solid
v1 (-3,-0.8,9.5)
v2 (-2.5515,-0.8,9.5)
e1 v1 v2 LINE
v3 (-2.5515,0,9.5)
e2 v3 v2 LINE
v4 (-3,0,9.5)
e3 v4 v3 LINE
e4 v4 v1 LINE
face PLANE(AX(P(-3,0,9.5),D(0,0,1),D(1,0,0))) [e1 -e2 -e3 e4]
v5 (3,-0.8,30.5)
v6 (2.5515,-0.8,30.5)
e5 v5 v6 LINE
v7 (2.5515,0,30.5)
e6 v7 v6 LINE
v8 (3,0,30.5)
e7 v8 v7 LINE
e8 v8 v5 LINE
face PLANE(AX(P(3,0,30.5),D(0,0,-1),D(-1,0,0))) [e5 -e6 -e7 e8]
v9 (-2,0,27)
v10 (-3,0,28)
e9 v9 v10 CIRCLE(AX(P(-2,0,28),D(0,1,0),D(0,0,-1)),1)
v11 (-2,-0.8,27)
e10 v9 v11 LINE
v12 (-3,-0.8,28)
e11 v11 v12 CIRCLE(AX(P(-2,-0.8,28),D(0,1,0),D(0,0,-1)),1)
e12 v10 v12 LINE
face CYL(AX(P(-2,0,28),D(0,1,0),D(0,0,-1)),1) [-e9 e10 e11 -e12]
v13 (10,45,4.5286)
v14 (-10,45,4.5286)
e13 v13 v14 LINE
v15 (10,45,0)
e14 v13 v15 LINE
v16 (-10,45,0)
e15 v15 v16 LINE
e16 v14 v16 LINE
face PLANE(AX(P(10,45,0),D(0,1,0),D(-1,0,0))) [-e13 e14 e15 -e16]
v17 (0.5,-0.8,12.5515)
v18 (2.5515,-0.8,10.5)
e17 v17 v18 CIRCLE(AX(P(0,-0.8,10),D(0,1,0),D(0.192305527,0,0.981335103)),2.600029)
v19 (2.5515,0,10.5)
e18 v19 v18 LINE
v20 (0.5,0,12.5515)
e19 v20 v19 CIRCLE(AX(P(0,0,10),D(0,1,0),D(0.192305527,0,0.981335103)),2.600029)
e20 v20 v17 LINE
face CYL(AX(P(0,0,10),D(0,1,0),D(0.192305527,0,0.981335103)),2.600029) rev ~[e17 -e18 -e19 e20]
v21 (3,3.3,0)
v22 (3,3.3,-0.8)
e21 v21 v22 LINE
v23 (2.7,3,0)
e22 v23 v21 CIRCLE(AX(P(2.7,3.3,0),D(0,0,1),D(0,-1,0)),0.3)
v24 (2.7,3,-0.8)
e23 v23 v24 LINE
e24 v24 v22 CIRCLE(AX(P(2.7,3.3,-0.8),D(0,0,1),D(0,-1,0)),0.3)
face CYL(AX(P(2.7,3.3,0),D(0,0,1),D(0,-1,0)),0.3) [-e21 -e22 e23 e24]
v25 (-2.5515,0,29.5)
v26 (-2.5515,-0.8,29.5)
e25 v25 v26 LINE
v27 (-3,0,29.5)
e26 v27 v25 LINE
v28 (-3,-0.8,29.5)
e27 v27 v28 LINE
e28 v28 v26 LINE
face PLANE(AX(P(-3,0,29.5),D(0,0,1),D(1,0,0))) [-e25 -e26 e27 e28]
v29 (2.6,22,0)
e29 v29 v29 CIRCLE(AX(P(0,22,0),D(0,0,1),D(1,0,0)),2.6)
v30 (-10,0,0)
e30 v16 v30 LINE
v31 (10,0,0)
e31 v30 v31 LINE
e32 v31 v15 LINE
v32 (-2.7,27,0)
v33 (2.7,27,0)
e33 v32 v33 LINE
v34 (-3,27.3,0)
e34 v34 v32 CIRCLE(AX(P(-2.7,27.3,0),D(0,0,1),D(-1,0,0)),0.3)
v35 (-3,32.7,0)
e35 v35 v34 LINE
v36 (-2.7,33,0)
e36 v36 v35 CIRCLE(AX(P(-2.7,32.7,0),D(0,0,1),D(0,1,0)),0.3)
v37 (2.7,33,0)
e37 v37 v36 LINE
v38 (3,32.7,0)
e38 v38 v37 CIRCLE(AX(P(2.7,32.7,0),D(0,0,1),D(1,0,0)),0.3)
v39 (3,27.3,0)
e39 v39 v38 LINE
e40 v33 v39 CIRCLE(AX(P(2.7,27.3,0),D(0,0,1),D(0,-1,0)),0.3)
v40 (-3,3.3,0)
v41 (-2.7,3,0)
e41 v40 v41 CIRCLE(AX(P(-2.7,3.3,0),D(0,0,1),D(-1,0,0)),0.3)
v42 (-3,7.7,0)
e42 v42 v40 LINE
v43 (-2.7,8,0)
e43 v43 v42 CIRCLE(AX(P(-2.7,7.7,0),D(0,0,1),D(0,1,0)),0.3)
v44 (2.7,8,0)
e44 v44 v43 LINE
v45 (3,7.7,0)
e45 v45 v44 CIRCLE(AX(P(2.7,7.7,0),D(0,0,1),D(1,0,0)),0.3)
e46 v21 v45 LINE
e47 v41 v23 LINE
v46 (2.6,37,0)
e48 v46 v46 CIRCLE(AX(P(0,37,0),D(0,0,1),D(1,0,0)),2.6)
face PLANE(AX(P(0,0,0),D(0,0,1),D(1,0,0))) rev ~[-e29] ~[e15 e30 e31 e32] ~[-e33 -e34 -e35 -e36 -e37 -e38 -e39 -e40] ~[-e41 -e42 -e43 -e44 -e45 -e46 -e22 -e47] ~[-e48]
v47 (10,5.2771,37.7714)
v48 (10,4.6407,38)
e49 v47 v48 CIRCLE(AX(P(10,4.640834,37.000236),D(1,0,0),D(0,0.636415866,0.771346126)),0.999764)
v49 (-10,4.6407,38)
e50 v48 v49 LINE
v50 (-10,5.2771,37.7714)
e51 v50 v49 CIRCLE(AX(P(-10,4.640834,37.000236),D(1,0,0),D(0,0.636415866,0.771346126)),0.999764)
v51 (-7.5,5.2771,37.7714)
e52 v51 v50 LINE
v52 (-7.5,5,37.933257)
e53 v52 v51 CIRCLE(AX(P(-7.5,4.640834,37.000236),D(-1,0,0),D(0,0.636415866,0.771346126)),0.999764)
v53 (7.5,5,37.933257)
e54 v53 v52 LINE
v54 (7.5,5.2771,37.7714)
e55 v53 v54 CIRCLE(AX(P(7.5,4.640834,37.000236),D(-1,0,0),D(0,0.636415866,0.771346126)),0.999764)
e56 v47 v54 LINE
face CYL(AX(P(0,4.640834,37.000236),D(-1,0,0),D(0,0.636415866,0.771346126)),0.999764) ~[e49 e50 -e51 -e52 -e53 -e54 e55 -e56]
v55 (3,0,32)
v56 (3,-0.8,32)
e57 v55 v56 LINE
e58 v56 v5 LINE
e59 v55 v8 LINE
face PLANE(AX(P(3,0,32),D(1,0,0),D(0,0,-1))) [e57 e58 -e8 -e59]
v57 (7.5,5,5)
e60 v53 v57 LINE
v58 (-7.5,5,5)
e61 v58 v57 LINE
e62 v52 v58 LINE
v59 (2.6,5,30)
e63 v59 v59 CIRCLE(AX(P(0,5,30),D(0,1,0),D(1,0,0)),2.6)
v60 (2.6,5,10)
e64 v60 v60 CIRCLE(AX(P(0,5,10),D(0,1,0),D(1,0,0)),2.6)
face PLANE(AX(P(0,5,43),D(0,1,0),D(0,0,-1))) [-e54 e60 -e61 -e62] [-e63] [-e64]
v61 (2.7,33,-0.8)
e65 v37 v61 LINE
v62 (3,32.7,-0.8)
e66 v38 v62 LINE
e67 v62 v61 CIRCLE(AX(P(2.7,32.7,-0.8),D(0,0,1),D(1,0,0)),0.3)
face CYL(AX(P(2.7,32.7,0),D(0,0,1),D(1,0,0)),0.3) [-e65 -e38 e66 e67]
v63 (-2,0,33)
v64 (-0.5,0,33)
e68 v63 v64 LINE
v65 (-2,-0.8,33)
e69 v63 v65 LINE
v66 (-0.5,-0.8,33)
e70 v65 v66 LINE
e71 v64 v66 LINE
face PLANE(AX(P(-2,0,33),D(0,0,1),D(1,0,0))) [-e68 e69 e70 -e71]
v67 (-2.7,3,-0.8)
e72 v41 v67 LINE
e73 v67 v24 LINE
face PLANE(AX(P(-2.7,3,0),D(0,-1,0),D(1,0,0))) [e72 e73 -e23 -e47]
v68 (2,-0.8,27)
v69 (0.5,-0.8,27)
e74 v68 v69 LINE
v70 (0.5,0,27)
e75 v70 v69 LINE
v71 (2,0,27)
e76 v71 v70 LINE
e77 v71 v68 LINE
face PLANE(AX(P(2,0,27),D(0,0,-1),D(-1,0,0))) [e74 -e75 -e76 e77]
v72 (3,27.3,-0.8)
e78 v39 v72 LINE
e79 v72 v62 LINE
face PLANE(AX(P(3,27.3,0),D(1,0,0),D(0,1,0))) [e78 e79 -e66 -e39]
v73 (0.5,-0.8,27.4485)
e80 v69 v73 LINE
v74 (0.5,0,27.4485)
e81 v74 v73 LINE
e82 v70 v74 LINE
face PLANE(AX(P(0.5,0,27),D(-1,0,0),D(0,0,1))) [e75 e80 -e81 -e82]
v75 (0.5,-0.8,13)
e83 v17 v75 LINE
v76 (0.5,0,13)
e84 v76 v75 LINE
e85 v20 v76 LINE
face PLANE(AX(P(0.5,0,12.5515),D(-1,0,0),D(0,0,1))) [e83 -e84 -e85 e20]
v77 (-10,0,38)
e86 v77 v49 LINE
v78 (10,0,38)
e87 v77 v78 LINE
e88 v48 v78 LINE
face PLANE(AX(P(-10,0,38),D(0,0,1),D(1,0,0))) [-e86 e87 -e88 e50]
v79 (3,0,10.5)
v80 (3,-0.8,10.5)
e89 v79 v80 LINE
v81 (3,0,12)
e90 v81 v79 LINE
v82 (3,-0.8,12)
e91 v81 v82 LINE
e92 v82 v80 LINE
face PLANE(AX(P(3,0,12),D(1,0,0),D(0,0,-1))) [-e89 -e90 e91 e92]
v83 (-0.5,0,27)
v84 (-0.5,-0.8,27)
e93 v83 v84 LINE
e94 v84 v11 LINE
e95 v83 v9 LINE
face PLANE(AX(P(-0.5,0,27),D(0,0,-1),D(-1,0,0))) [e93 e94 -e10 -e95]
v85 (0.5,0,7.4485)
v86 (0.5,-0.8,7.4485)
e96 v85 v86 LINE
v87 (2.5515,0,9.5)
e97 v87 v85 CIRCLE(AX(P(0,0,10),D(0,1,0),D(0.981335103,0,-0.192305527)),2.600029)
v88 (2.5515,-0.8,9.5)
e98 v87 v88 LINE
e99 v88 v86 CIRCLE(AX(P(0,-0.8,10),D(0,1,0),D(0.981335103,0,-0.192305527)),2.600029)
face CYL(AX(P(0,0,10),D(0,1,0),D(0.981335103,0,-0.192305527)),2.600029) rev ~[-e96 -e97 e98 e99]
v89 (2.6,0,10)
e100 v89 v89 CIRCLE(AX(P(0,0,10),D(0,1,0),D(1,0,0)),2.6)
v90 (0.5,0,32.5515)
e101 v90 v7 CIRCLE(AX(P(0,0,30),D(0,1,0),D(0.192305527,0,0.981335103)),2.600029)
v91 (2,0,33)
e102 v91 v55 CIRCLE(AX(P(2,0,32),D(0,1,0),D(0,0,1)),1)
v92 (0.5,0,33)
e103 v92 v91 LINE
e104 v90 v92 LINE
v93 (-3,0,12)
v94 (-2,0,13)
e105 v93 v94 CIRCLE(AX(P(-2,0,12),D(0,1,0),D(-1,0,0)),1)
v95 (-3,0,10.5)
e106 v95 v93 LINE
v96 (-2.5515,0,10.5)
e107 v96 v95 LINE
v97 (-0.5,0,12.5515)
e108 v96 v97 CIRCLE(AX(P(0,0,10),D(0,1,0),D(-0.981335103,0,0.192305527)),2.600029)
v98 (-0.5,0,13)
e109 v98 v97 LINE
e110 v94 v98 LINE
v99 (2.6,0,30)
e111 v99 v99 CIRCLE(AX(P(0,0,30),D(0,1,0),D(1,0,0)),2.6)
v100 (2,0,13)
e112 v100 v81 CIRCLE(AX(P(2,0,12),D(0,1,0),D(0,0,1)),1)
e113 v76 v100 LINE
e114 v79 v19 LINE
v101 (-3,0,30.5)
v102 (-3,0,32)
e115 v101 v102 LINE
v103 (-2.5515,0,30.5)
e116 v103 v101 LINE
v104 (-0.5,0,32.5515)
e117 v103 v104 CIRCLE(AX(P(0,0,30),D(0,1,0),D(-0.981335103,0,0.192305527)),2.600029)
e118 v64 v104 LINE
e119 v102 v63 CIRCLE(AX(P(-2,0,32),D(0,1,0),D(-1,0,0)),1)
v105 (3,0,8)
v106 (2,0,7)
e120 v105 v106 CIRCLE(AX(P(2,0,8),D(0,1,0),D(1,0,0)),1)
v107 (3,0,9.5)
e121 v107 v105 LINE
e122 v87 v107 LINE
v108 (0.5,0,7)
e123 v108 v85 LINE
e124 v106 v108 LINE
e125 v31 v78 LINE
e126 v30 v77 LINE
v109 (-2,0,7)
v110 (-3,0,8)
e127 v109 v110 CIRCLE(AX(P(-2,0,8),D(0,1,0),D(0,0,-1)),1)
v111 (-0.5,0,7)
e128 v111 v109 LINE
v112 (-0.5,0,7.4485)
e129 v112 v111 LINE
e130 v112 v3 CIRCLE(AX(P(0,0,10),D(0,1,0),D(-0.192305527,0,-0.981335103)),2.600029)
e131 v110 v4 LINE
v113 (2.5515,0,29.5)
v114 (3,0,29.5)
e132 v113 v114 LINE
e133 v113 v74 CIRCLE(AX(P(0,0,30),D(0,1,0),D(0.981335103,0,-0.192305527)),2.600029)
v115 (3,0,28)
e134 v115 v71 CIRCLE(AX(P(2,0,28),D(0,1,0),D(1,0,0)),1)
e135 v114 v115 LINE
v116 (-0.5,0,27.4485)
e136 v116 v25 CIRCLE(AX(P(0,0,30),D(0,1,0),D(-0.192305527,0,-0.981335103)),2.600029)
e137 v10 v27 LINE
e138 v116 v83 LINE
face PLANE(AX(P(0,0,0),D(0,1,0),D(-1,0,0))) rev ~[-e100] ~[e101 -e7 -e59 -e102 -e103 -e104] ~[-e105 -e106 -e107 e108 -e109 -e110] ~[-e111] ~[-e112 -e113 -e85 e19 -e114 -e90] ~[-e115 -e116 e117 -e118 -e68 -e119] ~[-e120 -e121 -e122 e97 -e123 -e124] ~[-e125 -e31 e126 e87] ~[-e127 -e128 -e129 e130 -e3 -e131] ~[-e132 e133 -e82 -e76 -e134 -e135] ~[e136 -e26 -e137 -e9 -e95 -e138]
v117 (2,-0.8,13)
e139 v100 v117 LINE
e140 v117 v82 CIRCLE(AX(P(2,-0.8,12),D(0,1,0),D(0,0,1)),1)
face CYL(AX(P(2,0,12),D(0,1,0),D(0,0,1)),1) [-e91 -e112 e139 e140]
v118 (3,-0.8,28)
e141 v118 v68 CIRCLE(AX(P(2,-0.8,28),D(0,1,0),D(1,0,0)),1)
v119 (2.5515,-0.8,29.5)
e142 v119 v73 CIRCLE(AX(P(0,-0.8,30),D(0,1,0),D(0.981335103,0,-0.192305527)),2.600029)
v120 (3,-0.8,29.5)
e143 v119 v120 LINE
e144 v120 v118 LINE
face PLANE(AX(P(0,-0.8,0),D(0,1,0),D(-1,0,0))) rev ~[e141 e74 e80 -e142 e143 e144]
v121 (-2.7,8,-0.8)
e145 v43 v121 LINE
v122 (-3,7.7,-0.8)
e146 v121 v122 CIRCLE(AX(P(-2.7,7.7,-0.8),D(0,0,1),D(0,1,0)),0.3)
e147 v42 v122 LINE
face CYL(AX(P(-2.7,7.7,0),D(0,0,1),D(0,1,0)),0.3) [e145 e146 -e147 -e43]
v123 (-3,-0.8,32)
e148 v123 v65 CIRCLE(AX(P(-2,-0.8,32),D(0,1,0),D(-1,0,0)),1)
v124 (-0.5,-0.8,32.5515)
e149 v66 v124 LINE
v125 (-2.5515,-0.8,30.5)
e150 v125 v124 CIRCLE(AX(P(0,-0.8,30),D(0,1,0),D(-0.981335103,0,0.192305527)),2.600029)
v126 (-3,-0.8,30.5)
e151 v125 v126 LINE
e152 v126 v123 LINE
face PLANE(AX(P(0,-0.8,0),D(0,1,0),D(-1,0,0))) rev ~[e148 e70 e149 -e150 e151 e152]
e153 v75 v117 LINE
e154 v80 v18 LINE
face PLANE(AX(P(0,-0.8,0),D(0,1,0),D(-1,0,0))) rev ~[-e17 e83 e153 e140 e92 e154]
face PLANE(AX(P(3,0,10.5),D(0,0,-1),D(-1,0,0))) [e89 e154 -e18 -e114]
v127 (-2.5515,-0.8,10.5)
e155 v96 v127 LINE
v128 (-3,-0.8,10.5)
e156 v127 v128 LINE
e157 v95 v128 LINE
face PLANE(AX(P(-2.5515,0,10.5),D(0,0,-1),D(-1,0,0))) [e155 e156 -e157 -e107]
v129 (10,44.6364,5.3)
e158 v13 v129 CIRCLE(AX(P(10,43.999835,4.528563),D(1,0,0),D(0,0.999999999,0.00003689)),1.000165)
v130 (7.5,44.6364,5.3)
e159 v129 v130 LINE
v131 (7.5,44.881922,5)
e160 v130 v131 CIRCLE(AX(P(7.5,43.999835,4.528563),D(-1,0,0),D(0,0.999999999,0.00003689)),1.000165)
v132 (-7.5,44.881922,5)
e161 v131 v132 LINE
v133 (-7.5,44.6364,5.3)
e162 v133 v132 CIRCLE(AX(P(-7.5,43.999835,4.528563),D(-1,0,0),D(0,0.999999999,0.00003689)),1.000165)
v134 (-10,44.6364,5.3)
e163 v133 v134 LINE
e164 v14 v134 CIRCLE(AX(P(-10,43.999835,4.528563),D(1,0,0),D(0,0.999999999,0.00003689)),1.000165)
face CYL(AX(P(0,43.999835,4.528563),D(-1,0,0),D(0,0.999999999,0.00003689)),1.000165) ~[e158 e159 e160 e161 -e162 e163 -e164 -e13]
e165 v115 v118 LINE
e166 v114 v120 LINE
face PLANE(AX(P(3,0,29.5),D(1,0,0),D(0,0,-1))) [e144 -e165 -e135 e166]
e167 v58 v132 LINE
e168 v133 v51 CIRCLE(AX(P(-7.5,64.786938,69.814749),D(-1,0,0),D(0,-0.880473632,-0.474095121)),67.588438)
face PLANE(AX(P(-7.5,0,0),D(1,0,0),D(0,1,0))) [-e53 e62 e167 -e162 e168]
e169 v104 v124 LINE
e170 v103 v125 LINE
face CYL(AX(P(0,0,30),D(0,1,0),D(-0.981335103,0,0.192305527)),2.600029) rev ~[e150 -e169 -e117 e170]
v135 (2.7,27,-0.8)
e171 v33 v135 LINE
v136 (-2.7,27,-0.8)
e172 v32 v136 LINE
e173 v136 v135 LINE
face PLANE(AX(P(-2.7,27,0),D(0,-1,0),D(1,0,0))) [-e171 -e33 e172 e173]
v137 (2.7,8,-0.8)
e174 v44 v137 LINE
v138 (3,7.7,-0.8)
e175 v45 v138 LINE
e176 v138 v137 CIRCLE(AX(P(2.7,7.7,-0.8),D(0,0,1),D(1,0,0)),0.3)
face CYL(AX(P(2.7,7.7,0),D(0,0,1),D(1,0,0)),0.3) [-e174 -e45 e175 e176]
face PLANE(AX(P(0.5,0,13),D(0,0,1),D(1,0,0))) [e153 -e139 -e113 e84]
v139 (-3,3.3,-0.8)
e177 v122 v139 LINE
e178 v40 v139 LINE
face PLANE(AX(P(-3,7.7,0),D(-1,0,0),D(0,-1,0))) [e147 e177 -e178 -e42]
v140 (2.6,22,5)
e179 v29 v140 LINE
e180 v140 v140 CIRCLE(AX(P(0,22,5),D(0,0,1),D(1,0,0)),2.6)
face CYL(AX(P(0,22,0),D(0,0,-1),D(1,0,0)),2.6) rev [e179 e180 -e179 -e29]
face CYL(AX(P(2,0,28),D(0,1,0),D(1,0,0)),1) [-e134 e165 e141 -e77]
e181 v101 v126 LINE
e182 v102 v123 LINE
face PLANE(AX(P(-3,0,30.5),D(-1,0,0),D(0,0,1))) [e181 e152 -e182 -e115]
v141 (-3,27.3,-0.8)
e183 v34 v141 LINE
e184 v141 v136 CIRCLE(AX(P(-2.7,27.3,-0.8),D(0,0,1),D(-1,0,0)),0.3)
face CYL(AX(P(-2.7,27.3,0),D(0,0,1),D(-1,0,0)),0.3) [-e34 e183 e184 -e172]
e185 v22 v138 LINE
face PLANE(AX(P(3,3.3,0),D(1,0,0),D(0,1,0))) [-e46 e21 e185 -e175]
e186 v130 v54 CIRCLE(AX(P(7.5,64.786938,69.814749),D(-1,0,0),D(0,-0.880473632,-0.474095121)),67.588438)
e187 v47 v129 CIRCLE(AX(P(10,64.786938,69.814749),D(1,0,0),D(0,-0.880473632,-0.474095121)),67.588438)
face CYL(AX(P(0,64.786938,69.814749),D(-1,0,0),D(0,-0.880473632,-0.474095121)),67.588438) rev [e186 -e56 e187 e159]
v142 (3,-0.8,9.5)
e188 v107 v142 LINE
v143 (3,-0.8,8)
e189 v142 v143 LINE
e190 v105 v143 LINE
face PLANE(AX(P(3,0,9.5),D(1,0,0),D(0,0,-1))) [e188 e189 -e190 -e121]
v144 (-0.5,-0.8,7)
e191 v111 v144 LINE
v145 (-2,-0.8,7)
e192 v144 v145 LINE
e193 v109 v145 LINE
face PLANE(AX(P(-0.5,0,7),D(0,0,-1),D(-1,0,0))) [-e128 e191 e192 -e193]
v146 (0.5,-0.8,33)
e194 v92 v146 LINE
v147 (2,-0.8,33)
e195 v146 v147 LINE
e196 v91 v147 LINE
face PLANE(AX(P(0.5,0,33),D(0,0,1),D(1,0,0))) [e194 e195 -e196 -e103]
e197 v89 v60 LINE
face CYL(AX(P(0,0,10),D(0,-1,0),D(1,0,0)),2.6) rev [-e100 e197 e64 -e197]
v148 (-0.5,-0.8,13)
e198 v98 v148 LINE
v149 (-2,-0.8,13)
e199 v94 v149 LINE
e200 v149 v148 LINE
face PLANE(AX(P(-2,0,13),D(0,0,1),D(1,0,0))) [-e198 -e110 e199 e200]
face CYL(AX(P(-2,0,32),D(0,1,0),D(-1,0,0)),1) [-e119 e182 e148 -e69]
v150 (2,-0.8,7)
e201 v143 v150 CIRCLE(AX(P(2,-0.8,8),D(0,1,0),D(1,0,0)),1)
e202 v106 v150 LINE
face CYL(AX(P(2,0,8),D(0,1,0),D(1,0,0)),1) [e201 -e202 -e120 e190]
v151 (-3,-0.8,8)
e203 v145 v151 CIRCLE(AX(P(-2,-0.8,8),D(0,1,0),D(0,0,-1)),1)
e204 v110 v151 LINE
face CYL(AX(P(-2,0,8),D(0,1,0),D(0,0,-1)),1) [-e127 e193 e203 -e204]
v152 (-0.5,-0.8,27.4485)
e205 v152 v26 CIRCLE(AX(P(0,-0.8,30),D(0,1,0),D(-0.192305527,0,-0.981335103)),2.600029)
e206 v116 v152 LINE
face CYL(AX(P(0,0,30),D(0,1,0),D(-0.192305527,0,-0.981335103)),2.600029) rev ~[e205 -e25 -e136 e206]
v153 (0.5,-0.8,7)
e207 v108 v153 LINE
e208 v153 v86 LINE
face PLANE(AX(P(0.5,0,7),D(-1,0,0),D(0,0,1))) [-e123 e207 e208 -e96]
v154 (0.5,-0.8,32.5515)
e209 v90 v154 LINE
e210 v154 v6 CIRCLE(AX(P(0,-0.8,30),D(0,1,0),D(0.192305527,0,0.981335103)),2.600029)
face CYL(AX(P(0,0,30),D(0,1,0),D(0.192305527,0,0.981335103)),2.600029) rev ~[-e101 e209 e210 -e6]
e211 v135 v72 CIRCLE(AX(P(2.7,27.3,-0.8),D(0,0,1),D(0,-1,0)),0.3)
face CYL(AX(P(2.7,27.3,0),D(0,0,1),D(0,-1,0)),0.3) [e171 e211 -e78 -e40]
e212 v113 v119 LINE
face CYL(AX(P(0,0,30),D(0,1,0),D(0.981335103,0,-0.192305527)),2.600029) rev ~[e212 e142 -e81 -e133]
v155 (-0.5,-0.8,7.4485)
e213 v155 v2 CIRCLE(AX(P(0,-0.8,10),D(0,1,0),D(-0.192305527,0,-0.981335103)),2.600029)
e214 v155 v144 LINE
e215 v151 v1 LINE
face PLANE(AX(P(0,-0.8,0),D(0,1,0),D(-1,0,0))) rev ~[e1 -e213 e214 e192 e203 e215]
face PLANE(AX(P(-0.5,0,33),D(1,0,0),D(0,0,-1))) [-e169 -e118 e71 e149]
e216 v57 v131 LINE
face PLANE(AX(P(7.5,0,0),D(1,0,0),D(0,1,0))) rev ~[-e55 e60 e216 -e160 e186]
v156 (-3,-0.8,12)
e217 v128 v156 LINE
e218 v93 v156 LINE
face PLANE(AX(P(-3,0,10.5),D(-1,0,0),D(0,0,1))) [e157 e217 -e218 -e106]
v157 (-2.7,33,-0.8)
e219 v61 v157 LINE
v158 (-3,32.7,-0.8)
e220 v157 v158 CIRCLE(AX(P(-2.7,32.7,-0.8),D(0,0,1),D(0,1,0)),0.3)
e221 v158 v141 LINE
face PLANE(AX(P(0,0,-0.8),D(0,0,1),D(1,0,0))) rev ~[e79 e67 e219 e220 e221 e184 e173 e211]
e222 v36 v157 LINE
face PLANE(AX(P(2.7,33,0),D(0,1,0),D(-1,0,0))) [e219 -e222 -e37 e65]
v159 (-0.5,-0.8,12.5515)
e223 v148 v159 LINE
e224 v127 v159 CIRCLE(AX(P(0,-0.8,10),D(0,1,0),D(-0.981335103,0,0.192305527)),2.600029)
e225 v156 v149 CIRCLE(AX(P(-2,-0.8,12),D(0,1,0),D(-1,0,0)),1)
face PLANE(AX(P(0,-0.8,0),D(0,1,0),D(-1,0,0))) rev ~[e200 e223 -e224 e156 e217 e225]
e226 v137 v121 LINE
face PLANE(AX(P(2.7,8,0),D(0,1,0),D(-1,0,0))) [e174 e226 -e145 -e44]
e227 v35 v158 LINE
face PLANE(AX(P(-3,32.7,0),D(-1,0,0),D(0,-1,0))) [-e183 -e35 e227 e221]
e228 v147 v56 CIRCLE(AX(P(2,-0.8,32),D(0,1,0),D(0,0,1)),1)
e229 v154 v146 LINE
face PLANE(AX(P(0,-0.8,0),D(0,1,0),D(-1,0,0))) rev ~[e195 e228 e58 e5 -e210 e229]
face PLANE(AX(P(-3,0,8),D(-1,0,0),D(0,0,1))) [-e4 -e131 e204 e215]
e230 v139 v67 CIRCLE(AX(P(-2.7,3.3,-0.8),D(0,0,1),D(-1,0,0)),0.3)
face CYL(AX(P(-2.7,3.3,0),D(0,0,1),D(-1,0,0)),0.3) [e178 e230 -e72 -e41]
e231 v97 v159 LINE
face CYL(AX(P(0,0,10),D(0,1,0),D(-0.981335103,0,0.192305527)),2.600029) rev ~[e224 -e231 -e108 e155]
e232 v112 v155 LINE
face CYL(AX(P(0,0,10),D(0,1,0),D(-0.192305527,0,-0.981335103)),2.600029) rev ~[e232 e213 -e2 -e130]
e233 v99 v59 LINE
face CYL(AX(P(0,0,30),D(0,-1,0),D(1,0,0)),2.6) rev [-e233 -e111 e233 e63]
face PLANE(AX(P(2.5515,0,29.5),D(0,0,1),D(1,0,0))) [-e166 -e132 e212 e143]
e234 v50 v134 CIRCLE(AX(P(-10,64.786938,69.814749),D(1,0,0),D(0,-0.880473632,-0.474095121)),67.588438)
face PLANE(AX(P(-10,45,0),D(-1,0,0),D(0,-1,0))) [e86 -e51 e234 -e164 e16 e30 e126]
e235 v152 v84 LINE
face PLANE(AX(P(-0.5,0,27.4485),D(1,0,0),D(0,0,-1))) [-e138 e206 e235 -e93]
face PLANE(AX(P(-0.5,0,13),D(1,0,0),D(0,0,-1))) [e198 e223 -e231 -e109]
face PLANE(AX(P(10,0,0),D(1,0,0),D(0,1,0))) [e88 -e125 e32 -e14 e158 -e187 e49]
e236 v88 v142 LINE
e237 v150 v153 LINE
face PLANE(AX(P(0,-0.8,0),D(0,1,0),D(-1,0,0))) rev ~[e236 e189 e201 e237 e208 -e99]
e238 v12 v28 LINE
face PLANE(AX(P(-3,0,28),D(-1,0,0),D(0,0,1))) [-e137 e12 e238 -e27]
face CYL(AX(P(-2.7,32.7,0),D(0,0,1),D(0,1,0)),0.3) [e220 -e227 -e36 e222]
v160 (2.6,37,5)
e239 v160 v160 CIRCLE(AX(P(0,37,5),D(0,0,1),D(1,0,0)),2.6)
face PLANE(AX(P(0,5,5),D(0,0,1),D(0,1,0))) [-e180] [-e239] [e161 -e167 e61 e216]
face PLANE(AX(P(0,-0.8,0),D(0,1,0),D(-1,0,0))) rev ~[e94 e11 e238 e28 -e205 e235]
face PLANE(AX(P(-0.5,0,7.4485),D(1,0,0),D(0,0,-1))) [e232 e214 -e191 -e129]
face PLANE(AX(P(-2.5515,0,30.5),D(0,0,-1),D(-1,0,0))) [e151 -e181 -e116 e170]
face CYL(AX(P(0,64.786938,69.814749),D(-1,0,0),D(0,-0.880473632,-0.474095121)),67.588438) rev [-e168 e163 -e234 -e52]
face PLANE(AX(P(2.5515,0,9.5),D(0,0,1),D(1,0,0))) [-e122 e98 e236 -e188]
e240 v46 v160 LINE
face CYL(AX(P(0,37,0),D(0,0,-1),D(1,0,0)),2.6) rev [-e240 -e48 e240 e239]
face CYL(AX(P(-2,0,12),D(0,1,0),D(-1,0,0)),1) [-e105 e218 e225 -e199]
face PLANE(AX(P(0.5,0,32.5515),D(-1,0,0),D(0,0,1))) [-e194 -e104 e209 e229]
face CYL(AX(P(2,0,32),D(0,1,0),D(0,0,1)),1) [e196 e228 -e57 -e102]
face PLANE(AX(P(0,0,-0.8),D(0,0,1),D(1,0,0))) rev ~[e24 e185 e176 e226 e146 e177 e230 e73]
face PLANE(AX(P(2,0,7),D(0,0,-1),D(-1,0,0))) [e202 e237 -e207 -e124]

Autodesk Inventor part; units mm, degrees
sketch "Sketch_15" plane through (0, 0, 0) normal (1, 0, 0) x (0, 1, 0)
  line L0 (0, 38) -> (0, 0)
  line L1 (0, 0) -> (45, 0)
  line L2 (45, 0) -> (45, 4.5286)
  arc A0 (45, 4.5286) -> (44.6364, 5.3) centre (44, 4.5286) ccw
  line L3 (44.6364, 5.3) -> (5.2771, 37.7714)
  arc A1 (5.2771, 37.7714) -> (4.6407, 38) centre (4.6407, 37) ccw
  line L4 (4.6407, 38) -> (0, 38)
extrude "Extrusion1" add sketch "Sketch_15" along normal mid plane 20
sketch "Sketch_16" plane through (0, 0, 0) normal (1, 0, 0) x (0, 1, 0)
  line L0 (5, 43) -> (5, 5)
  line L1 (5, 5) -> (50, 5)
  line L2 (50, 5) -> (50, 43)
  line L3 (50, 43) -> (5, 43)
extrude "Extrusion2" cut sketch "Sketch_16" along normal mid plane 15
sketch "Sketch_28" plane through (0, 0, 0) normal (1, 0, 0) x (0, 1, 0)
  arc A0 (5.2771, 37.7714) -> (44.6364, 5.3) centre (64.787, 69.8148) ccw
  line L0 (44.6364, 5.3) -> (5.2771, 37.7714)
extrude "Extrusion3" cut sketch "Sketch_28" along normal mid plane 20
sketch "Sketch_6" plane through (0, 0, 0) normal (0, 1, 0) x (1, 0, 0)
  circle A0 centre (0, -10) radius 2.6
extrude "Extrusion4" cut sketch "Sketch_6" along normal blind 5
pattern_linear "Rectangular Pattern1" count 2 spacing 20 along (0, 0, 1) of "Extrusion4"
sketch "Sketch_8" plane through (0, 0, 0) normal (0, 0, 1) x (1, 0, 0)
  circle A0 centre (0, 22) radius 2.6
extrude "Extrusion5" cut sketch "Sketch_8" along normal blind 5
pattern_linear "Rectangular Pattern2" count 2 spacing 15 along (0, 1, 0) of "Extrusion5"
sketch "Sketch_1" plane through (0, 0, 0) normal (0, 1, 0) x (-1, 0, 0)
  line L0 (10, 0) -> (10, 38)
  line L1 (10, 38) -> (-10, 38)
  line L2 (-10, 38) -> (-10, 0)
  line L3 (-10, 0) -> (10, 0)
extrude "Extrusion6" add sketch "Sketch_1" against normal blind 0.8
sketch "Sketch_10" plane through (0, 0, 0) normal (0, 0, 1) x (1, 0, 0)
  line L0 (-10, 0) -> (10, 0)
  line L1 (10, 0) -> (10, 45)
  line L2 (10, 45) -> (-10, 45)
  line L3 (-10, 45) -> (-10, 0)
extrude "Extrusion7" add sketch "Sketch_10" against normal blind 0.8
sketch "Sketch_13" plane through (0, 0, 0) normal (0, 1, 0) x (-1, 0, 0)
  line L0 (10, 0) -> (10, 38)
  line L1 (10, 38) -> (-10, 38)
  line L2 (-10, 38) -> (-10, 0)
  line L3 (-10, 0) -> (10, 0)
  line L4 (-0.5, 33) -> (-2, 33)
  arc A0 (-2, 33) -> (-3, 32) centre (-2, 32) ccw
  line L5 (-3, 32) -> (-3, 30.5)
  line L6 (-3, 30.5) -> (-2.5515, 30.5)
  arc A1 (-0.5, 32.5515) -> (-2.5515, 30.5) centre (0, 30) ccw
  line L7 (-0.5, 32.5515) -> (-0.5, 33)
  line L8 (-0.5, 27) -> (-0.5, 27.4485)
  arc A2 (-2.5515, 29.5) -> (-0.5, 27.4485) centre (0, 30) ccw
  line L9 (-2.5515, 29.5) -> (-3, 29.5)
  line L10 (-3, 29.5) -> (-3, 28)
  arc A3 (-3, 28) -> (-2, 27) centre (-2, 28) ccw
  line L11 (-2, 27) -> (-0.5, 27)
  line L12 (-0.5, 13) -> (-2, 13)
  arc A4 (-2, 13) -> (-3, 12) centre (-2, 12) ccw
  line L13 (-3, 12) -> (-3, 10.5)
  line L14 (-3, 10.5) -> (-2.5515, 10.5)
  arc A5 (-0.5, 12.5515) -> (-2.5515, 10.5) centre (0, 10) ccw
  line L15 (-0.5, 12.5515) -> (-0.5, 13)
  line L16 (-0.5, 7) -> (-0.5, 7.4485)
  arc A6 (-2.5515, 9.5) -> (-0.5, 7.4485) centre (0, 10) ccw
  line L17 (-2.5515, 9.5) -> (-3, 9.5)
  line L18 (-3, 9.5) -> (-3, 8)
  arc A7 (-3, 8) -> (-2, 7) centre (-2, 8) ccw
  line L19 (-2, 7) -> (-0.5, 7)
  arc A8 (3, 32) -> (2, 33) centre (2, 32) ccw
  line L20 (2, 33) -> (0.5, 33)
  line L21 (0.5, 33) -> (0.5, 32.5515)
  arc A9 (2.5515, 30.5) -> (0.5, 32.5515) centre (0, 30) ccw
  line L22 (2.5515, 30.5) -> (3, 30.5)
  line L23 (3, 30.5) -> (3, 32)
  line L24 (3, 29.5) -> (2.5515, 29.5)
  arc A10 (0.5, 27.4485) -> (2.5515, 29.5) centre (0, 30) ccw
  line L25 (0.5, 27.4485) -> (0.5, 27)
  line L26 (0.5, 27) -> (2, 27)
  arc A11 (2, 27) -> (3, 28) centre (2, 28) ccw
  line L27 (3, 28) -> (3, 29.5)
  arc A12 (3, 12) -> (2, 13) centre (2, 12) ccw
  line L28 (2, 13) -> (0.5, 13)
  line L29 (0.5, 13) -> (0.5, 12.5515)
  arc A13 (2.5515, 10.5) -> (0.5, 12.5515) centre (0, 10) ccw
  line L30 (2.5515, 10.5) -> (3, 10.5)
  line L31 (3, 10.5) -> (3, 12)
  line L32 (3, 9.5) -> (2.5515, 9.5)
  arc A14 (0.5, 7.4485) -> (2.5515, 9.5) centre (0, 10) ccw
  line L33 (0.5, 7.4485) -> (0.5, 7)
  line L34 (0.5, 7) -> (2, 7)
  arc A15 (2, 7) -> (3, 8) centre (2, 8) ccw
  line L35 (3, 8) -> (3, 9.5)
extrude "Extrusion8" cut sketch "Sketch_13" against normal blind 0.8
sketch "Sketch_26" plane through (0, 0, 0) normal (0, 0, 1) x (1, 0, 0)
  line L0 (-10, 45) -> (-10, 0)
  line L1 (-10, 0) -> (10, 0)
  line L2 (10, 0) -> (10, 45)
  line L3 (10, 45) -> (-10, 45)
  arc A0 (-3, 27.3) -> (-2.7, 27) centre (-2.7, 27.3) ccw
  line L4 (-2.7, 27) -> (2.7, 27)
  arc A1 (2.7, 27) -> (3, 27.3) centre (2.7, 27.3) ccw
  line L5 (3, 27.3) -> (3, 32.7)
  arc A2 (3, 32.7) -> (2.7, 33) centre (2.7, 32.7) ccw
  line L6 (2.7, 33) -> (-2.7, 33)
  arc A3 (-2.7, 33) -> (-3, 32.7) centre (-2.7, 32.7) ccw
  line L7 (-3, 32.7) -> (-3, 27.3)
  arc A4 (-3, 3.3) -> (-2.7, 3) centre (-2.7, 3.3) ccw
  line L8 (-2.7, 3) -> (2.7, 3)
  arc A5 (2.7, 3) -> (3, 3.3) centre (2.7, 3.3) ccw
  line L9 (3, 3.3) -> (3, 7.7)
  arc A6 (3, 7.7) -> (2.7, 8) centre (2.7, 7.7) ccw
  line L10 (2.7, 8) -> (-2.7, 8)
  arc A7 (-2.7, 8) -> (-3, 7.7) centre (-2.7, 7.7) ccw
  line L11 (-3, 7.7) -> (-3, 3.3)
extrude "Extrusion9" cut sketch "Sketch_26" against normal blind 1.25
ref_plane "to_bolt_row_8_to_9_1_XY" through (0, 22, 5) normal (0, 0, 1) x (1, 0, 0)
ref_plane "to_bolt_row_8_to_9_1_YZ" through (0, 22, 5) normal (1, 0, 0) x (0, 1, 0)
ref_plane "to_bolt_row_8_to_9_1_ZX" through (0, 22, 5) normal (0, 1, 0) x (0, 0, 1)
ref_plane "to_bolt_row_8_to_9_2_XY" through (0, 37, 5) normal (0, 0, 1) x (1, 0, 0)
ref_plane "to_bolt_row_8_to_9_2_YZ" through (0, 37, 5) normal (1, 0, 0) x (0, 1, 0)
ref_plane "to_bolt_row_8_to_9_2_ZX" through (0, 37, 5) normal (0, 1, 0) x (0, 0, 1)
ref_plane "to_bolt_row_8_9_base_2_XY" through (0, 5, 30) normal (0, 1, 0) x (1, 0, 0)
ref_plane "to_bolt_row_8_9_base_2_YZ" through (0, 5, 30) normal (1, 0, 0) x (0, 0, -1)
ref_plane "to_bolt_row_8_9_base_2_ZX" through (0, 5, 30) normal (0, 0, -1) x (0, 1, 0)
ref_plane "to_bolt_row_8_9_base_1_XY" through (0, 5, 10) normal (0, 1, 0) x (1, 0, 0)
ref_plane "to_bolt_row_8_9_base_1_YZ" through (0, 5, 10) normal (1, 0, 0) x (0, 0, -1)
ref_plane "to_bolt_row_8_9_base_1_ZX" through (0, 5, 10) normal (0, 0, -1) x (0, 1, 0)
ref_plane "to_nut_row_8_to_9_2_XY" through (0, 37, -2) normal (0, 0, 1) x (1, 0, 0)
ref_plane "to_nut_row_8_to_9_2_YZ" through (0, 37, -2) normal (1, 0, 0) x (0, 1, 0)
ref_plane "to_nut_row_8_to_9_2_ZX" through (0, 37, -2) normal (0, 1, 0) x (0, 0, 1)
ref_plane "to_nut_row_8_to_9_1_XY" through (0, 22, -2) normal (0, 0, 1) x (1, 0, 0)
ref_plane "to_nut_row_8_to_9_1_YZ" through (0, 22, -2) normal (1, 0, 0) x (0, 1, 0)
ref_plane "to_nut_row_8_to_9_1_ZX" through (0, 22, -2) normal (0, 1, 0) x (0, 0, 1)
ref_plane "to_nut_row_8_9_base_2_XY" through (0, -2, 30) normal (0, 1, 0) x (1, 0, 0)
ref_plane "to_nut_row_8_9_base_2_YZ" through (0, -2, 30) normal (1, 0, 0) x (0, 0, -1)
ref_plane "to_nut_row_8_9_base_2_ZX" through (0, -2, 30) normal (0, 0, -1) x (0, 1, 0)
ref_plane "to_nut_row_8_9_base_1_XY" through (0, -2, 10) normal (0, 1, 0) x (1, 0, 0)
ref_plane "to_nut_row_8_9_base_1_YZ" through (0, -2, 10) normal (1, 0, 0) x (0, 0, -1)
ref_plane "to_nut_row_8_9_base_1_ZX" through (0, -2, 10) normal (0, 0, -1) x (0, 1, 0)
ref_plane "bracket_to_dummy_XY" through (0, 0, 0) normal (0, 1, 0) x (1, 0, 0)
ref_plane "bracket_to_dummy_YZ" through (0, 0, 0) normal (1, 0, 0) x (0, 0, -1)
ref_plane "bracket_to_dummy_ZX" through (0, 0, 0) normal (0, 0, -1) x (0, 1, 0)
ref_plane "bracket_to_bolt_XY" through (1, 37, 0) normal (0, 0, 1) x (1, 0, 0)
ref_plane "bracket_to_bolt_YZ" through (1, 37, 0) normal (1, 0, 0) x (0, 1, 0)
ref_plane "bracket_to_bolt_ZX" through (1, 37, 0) normal (0, 1, 0) x (0, 0, 1)
properties part number "HBLFSSW5-SEThblfsn5"
